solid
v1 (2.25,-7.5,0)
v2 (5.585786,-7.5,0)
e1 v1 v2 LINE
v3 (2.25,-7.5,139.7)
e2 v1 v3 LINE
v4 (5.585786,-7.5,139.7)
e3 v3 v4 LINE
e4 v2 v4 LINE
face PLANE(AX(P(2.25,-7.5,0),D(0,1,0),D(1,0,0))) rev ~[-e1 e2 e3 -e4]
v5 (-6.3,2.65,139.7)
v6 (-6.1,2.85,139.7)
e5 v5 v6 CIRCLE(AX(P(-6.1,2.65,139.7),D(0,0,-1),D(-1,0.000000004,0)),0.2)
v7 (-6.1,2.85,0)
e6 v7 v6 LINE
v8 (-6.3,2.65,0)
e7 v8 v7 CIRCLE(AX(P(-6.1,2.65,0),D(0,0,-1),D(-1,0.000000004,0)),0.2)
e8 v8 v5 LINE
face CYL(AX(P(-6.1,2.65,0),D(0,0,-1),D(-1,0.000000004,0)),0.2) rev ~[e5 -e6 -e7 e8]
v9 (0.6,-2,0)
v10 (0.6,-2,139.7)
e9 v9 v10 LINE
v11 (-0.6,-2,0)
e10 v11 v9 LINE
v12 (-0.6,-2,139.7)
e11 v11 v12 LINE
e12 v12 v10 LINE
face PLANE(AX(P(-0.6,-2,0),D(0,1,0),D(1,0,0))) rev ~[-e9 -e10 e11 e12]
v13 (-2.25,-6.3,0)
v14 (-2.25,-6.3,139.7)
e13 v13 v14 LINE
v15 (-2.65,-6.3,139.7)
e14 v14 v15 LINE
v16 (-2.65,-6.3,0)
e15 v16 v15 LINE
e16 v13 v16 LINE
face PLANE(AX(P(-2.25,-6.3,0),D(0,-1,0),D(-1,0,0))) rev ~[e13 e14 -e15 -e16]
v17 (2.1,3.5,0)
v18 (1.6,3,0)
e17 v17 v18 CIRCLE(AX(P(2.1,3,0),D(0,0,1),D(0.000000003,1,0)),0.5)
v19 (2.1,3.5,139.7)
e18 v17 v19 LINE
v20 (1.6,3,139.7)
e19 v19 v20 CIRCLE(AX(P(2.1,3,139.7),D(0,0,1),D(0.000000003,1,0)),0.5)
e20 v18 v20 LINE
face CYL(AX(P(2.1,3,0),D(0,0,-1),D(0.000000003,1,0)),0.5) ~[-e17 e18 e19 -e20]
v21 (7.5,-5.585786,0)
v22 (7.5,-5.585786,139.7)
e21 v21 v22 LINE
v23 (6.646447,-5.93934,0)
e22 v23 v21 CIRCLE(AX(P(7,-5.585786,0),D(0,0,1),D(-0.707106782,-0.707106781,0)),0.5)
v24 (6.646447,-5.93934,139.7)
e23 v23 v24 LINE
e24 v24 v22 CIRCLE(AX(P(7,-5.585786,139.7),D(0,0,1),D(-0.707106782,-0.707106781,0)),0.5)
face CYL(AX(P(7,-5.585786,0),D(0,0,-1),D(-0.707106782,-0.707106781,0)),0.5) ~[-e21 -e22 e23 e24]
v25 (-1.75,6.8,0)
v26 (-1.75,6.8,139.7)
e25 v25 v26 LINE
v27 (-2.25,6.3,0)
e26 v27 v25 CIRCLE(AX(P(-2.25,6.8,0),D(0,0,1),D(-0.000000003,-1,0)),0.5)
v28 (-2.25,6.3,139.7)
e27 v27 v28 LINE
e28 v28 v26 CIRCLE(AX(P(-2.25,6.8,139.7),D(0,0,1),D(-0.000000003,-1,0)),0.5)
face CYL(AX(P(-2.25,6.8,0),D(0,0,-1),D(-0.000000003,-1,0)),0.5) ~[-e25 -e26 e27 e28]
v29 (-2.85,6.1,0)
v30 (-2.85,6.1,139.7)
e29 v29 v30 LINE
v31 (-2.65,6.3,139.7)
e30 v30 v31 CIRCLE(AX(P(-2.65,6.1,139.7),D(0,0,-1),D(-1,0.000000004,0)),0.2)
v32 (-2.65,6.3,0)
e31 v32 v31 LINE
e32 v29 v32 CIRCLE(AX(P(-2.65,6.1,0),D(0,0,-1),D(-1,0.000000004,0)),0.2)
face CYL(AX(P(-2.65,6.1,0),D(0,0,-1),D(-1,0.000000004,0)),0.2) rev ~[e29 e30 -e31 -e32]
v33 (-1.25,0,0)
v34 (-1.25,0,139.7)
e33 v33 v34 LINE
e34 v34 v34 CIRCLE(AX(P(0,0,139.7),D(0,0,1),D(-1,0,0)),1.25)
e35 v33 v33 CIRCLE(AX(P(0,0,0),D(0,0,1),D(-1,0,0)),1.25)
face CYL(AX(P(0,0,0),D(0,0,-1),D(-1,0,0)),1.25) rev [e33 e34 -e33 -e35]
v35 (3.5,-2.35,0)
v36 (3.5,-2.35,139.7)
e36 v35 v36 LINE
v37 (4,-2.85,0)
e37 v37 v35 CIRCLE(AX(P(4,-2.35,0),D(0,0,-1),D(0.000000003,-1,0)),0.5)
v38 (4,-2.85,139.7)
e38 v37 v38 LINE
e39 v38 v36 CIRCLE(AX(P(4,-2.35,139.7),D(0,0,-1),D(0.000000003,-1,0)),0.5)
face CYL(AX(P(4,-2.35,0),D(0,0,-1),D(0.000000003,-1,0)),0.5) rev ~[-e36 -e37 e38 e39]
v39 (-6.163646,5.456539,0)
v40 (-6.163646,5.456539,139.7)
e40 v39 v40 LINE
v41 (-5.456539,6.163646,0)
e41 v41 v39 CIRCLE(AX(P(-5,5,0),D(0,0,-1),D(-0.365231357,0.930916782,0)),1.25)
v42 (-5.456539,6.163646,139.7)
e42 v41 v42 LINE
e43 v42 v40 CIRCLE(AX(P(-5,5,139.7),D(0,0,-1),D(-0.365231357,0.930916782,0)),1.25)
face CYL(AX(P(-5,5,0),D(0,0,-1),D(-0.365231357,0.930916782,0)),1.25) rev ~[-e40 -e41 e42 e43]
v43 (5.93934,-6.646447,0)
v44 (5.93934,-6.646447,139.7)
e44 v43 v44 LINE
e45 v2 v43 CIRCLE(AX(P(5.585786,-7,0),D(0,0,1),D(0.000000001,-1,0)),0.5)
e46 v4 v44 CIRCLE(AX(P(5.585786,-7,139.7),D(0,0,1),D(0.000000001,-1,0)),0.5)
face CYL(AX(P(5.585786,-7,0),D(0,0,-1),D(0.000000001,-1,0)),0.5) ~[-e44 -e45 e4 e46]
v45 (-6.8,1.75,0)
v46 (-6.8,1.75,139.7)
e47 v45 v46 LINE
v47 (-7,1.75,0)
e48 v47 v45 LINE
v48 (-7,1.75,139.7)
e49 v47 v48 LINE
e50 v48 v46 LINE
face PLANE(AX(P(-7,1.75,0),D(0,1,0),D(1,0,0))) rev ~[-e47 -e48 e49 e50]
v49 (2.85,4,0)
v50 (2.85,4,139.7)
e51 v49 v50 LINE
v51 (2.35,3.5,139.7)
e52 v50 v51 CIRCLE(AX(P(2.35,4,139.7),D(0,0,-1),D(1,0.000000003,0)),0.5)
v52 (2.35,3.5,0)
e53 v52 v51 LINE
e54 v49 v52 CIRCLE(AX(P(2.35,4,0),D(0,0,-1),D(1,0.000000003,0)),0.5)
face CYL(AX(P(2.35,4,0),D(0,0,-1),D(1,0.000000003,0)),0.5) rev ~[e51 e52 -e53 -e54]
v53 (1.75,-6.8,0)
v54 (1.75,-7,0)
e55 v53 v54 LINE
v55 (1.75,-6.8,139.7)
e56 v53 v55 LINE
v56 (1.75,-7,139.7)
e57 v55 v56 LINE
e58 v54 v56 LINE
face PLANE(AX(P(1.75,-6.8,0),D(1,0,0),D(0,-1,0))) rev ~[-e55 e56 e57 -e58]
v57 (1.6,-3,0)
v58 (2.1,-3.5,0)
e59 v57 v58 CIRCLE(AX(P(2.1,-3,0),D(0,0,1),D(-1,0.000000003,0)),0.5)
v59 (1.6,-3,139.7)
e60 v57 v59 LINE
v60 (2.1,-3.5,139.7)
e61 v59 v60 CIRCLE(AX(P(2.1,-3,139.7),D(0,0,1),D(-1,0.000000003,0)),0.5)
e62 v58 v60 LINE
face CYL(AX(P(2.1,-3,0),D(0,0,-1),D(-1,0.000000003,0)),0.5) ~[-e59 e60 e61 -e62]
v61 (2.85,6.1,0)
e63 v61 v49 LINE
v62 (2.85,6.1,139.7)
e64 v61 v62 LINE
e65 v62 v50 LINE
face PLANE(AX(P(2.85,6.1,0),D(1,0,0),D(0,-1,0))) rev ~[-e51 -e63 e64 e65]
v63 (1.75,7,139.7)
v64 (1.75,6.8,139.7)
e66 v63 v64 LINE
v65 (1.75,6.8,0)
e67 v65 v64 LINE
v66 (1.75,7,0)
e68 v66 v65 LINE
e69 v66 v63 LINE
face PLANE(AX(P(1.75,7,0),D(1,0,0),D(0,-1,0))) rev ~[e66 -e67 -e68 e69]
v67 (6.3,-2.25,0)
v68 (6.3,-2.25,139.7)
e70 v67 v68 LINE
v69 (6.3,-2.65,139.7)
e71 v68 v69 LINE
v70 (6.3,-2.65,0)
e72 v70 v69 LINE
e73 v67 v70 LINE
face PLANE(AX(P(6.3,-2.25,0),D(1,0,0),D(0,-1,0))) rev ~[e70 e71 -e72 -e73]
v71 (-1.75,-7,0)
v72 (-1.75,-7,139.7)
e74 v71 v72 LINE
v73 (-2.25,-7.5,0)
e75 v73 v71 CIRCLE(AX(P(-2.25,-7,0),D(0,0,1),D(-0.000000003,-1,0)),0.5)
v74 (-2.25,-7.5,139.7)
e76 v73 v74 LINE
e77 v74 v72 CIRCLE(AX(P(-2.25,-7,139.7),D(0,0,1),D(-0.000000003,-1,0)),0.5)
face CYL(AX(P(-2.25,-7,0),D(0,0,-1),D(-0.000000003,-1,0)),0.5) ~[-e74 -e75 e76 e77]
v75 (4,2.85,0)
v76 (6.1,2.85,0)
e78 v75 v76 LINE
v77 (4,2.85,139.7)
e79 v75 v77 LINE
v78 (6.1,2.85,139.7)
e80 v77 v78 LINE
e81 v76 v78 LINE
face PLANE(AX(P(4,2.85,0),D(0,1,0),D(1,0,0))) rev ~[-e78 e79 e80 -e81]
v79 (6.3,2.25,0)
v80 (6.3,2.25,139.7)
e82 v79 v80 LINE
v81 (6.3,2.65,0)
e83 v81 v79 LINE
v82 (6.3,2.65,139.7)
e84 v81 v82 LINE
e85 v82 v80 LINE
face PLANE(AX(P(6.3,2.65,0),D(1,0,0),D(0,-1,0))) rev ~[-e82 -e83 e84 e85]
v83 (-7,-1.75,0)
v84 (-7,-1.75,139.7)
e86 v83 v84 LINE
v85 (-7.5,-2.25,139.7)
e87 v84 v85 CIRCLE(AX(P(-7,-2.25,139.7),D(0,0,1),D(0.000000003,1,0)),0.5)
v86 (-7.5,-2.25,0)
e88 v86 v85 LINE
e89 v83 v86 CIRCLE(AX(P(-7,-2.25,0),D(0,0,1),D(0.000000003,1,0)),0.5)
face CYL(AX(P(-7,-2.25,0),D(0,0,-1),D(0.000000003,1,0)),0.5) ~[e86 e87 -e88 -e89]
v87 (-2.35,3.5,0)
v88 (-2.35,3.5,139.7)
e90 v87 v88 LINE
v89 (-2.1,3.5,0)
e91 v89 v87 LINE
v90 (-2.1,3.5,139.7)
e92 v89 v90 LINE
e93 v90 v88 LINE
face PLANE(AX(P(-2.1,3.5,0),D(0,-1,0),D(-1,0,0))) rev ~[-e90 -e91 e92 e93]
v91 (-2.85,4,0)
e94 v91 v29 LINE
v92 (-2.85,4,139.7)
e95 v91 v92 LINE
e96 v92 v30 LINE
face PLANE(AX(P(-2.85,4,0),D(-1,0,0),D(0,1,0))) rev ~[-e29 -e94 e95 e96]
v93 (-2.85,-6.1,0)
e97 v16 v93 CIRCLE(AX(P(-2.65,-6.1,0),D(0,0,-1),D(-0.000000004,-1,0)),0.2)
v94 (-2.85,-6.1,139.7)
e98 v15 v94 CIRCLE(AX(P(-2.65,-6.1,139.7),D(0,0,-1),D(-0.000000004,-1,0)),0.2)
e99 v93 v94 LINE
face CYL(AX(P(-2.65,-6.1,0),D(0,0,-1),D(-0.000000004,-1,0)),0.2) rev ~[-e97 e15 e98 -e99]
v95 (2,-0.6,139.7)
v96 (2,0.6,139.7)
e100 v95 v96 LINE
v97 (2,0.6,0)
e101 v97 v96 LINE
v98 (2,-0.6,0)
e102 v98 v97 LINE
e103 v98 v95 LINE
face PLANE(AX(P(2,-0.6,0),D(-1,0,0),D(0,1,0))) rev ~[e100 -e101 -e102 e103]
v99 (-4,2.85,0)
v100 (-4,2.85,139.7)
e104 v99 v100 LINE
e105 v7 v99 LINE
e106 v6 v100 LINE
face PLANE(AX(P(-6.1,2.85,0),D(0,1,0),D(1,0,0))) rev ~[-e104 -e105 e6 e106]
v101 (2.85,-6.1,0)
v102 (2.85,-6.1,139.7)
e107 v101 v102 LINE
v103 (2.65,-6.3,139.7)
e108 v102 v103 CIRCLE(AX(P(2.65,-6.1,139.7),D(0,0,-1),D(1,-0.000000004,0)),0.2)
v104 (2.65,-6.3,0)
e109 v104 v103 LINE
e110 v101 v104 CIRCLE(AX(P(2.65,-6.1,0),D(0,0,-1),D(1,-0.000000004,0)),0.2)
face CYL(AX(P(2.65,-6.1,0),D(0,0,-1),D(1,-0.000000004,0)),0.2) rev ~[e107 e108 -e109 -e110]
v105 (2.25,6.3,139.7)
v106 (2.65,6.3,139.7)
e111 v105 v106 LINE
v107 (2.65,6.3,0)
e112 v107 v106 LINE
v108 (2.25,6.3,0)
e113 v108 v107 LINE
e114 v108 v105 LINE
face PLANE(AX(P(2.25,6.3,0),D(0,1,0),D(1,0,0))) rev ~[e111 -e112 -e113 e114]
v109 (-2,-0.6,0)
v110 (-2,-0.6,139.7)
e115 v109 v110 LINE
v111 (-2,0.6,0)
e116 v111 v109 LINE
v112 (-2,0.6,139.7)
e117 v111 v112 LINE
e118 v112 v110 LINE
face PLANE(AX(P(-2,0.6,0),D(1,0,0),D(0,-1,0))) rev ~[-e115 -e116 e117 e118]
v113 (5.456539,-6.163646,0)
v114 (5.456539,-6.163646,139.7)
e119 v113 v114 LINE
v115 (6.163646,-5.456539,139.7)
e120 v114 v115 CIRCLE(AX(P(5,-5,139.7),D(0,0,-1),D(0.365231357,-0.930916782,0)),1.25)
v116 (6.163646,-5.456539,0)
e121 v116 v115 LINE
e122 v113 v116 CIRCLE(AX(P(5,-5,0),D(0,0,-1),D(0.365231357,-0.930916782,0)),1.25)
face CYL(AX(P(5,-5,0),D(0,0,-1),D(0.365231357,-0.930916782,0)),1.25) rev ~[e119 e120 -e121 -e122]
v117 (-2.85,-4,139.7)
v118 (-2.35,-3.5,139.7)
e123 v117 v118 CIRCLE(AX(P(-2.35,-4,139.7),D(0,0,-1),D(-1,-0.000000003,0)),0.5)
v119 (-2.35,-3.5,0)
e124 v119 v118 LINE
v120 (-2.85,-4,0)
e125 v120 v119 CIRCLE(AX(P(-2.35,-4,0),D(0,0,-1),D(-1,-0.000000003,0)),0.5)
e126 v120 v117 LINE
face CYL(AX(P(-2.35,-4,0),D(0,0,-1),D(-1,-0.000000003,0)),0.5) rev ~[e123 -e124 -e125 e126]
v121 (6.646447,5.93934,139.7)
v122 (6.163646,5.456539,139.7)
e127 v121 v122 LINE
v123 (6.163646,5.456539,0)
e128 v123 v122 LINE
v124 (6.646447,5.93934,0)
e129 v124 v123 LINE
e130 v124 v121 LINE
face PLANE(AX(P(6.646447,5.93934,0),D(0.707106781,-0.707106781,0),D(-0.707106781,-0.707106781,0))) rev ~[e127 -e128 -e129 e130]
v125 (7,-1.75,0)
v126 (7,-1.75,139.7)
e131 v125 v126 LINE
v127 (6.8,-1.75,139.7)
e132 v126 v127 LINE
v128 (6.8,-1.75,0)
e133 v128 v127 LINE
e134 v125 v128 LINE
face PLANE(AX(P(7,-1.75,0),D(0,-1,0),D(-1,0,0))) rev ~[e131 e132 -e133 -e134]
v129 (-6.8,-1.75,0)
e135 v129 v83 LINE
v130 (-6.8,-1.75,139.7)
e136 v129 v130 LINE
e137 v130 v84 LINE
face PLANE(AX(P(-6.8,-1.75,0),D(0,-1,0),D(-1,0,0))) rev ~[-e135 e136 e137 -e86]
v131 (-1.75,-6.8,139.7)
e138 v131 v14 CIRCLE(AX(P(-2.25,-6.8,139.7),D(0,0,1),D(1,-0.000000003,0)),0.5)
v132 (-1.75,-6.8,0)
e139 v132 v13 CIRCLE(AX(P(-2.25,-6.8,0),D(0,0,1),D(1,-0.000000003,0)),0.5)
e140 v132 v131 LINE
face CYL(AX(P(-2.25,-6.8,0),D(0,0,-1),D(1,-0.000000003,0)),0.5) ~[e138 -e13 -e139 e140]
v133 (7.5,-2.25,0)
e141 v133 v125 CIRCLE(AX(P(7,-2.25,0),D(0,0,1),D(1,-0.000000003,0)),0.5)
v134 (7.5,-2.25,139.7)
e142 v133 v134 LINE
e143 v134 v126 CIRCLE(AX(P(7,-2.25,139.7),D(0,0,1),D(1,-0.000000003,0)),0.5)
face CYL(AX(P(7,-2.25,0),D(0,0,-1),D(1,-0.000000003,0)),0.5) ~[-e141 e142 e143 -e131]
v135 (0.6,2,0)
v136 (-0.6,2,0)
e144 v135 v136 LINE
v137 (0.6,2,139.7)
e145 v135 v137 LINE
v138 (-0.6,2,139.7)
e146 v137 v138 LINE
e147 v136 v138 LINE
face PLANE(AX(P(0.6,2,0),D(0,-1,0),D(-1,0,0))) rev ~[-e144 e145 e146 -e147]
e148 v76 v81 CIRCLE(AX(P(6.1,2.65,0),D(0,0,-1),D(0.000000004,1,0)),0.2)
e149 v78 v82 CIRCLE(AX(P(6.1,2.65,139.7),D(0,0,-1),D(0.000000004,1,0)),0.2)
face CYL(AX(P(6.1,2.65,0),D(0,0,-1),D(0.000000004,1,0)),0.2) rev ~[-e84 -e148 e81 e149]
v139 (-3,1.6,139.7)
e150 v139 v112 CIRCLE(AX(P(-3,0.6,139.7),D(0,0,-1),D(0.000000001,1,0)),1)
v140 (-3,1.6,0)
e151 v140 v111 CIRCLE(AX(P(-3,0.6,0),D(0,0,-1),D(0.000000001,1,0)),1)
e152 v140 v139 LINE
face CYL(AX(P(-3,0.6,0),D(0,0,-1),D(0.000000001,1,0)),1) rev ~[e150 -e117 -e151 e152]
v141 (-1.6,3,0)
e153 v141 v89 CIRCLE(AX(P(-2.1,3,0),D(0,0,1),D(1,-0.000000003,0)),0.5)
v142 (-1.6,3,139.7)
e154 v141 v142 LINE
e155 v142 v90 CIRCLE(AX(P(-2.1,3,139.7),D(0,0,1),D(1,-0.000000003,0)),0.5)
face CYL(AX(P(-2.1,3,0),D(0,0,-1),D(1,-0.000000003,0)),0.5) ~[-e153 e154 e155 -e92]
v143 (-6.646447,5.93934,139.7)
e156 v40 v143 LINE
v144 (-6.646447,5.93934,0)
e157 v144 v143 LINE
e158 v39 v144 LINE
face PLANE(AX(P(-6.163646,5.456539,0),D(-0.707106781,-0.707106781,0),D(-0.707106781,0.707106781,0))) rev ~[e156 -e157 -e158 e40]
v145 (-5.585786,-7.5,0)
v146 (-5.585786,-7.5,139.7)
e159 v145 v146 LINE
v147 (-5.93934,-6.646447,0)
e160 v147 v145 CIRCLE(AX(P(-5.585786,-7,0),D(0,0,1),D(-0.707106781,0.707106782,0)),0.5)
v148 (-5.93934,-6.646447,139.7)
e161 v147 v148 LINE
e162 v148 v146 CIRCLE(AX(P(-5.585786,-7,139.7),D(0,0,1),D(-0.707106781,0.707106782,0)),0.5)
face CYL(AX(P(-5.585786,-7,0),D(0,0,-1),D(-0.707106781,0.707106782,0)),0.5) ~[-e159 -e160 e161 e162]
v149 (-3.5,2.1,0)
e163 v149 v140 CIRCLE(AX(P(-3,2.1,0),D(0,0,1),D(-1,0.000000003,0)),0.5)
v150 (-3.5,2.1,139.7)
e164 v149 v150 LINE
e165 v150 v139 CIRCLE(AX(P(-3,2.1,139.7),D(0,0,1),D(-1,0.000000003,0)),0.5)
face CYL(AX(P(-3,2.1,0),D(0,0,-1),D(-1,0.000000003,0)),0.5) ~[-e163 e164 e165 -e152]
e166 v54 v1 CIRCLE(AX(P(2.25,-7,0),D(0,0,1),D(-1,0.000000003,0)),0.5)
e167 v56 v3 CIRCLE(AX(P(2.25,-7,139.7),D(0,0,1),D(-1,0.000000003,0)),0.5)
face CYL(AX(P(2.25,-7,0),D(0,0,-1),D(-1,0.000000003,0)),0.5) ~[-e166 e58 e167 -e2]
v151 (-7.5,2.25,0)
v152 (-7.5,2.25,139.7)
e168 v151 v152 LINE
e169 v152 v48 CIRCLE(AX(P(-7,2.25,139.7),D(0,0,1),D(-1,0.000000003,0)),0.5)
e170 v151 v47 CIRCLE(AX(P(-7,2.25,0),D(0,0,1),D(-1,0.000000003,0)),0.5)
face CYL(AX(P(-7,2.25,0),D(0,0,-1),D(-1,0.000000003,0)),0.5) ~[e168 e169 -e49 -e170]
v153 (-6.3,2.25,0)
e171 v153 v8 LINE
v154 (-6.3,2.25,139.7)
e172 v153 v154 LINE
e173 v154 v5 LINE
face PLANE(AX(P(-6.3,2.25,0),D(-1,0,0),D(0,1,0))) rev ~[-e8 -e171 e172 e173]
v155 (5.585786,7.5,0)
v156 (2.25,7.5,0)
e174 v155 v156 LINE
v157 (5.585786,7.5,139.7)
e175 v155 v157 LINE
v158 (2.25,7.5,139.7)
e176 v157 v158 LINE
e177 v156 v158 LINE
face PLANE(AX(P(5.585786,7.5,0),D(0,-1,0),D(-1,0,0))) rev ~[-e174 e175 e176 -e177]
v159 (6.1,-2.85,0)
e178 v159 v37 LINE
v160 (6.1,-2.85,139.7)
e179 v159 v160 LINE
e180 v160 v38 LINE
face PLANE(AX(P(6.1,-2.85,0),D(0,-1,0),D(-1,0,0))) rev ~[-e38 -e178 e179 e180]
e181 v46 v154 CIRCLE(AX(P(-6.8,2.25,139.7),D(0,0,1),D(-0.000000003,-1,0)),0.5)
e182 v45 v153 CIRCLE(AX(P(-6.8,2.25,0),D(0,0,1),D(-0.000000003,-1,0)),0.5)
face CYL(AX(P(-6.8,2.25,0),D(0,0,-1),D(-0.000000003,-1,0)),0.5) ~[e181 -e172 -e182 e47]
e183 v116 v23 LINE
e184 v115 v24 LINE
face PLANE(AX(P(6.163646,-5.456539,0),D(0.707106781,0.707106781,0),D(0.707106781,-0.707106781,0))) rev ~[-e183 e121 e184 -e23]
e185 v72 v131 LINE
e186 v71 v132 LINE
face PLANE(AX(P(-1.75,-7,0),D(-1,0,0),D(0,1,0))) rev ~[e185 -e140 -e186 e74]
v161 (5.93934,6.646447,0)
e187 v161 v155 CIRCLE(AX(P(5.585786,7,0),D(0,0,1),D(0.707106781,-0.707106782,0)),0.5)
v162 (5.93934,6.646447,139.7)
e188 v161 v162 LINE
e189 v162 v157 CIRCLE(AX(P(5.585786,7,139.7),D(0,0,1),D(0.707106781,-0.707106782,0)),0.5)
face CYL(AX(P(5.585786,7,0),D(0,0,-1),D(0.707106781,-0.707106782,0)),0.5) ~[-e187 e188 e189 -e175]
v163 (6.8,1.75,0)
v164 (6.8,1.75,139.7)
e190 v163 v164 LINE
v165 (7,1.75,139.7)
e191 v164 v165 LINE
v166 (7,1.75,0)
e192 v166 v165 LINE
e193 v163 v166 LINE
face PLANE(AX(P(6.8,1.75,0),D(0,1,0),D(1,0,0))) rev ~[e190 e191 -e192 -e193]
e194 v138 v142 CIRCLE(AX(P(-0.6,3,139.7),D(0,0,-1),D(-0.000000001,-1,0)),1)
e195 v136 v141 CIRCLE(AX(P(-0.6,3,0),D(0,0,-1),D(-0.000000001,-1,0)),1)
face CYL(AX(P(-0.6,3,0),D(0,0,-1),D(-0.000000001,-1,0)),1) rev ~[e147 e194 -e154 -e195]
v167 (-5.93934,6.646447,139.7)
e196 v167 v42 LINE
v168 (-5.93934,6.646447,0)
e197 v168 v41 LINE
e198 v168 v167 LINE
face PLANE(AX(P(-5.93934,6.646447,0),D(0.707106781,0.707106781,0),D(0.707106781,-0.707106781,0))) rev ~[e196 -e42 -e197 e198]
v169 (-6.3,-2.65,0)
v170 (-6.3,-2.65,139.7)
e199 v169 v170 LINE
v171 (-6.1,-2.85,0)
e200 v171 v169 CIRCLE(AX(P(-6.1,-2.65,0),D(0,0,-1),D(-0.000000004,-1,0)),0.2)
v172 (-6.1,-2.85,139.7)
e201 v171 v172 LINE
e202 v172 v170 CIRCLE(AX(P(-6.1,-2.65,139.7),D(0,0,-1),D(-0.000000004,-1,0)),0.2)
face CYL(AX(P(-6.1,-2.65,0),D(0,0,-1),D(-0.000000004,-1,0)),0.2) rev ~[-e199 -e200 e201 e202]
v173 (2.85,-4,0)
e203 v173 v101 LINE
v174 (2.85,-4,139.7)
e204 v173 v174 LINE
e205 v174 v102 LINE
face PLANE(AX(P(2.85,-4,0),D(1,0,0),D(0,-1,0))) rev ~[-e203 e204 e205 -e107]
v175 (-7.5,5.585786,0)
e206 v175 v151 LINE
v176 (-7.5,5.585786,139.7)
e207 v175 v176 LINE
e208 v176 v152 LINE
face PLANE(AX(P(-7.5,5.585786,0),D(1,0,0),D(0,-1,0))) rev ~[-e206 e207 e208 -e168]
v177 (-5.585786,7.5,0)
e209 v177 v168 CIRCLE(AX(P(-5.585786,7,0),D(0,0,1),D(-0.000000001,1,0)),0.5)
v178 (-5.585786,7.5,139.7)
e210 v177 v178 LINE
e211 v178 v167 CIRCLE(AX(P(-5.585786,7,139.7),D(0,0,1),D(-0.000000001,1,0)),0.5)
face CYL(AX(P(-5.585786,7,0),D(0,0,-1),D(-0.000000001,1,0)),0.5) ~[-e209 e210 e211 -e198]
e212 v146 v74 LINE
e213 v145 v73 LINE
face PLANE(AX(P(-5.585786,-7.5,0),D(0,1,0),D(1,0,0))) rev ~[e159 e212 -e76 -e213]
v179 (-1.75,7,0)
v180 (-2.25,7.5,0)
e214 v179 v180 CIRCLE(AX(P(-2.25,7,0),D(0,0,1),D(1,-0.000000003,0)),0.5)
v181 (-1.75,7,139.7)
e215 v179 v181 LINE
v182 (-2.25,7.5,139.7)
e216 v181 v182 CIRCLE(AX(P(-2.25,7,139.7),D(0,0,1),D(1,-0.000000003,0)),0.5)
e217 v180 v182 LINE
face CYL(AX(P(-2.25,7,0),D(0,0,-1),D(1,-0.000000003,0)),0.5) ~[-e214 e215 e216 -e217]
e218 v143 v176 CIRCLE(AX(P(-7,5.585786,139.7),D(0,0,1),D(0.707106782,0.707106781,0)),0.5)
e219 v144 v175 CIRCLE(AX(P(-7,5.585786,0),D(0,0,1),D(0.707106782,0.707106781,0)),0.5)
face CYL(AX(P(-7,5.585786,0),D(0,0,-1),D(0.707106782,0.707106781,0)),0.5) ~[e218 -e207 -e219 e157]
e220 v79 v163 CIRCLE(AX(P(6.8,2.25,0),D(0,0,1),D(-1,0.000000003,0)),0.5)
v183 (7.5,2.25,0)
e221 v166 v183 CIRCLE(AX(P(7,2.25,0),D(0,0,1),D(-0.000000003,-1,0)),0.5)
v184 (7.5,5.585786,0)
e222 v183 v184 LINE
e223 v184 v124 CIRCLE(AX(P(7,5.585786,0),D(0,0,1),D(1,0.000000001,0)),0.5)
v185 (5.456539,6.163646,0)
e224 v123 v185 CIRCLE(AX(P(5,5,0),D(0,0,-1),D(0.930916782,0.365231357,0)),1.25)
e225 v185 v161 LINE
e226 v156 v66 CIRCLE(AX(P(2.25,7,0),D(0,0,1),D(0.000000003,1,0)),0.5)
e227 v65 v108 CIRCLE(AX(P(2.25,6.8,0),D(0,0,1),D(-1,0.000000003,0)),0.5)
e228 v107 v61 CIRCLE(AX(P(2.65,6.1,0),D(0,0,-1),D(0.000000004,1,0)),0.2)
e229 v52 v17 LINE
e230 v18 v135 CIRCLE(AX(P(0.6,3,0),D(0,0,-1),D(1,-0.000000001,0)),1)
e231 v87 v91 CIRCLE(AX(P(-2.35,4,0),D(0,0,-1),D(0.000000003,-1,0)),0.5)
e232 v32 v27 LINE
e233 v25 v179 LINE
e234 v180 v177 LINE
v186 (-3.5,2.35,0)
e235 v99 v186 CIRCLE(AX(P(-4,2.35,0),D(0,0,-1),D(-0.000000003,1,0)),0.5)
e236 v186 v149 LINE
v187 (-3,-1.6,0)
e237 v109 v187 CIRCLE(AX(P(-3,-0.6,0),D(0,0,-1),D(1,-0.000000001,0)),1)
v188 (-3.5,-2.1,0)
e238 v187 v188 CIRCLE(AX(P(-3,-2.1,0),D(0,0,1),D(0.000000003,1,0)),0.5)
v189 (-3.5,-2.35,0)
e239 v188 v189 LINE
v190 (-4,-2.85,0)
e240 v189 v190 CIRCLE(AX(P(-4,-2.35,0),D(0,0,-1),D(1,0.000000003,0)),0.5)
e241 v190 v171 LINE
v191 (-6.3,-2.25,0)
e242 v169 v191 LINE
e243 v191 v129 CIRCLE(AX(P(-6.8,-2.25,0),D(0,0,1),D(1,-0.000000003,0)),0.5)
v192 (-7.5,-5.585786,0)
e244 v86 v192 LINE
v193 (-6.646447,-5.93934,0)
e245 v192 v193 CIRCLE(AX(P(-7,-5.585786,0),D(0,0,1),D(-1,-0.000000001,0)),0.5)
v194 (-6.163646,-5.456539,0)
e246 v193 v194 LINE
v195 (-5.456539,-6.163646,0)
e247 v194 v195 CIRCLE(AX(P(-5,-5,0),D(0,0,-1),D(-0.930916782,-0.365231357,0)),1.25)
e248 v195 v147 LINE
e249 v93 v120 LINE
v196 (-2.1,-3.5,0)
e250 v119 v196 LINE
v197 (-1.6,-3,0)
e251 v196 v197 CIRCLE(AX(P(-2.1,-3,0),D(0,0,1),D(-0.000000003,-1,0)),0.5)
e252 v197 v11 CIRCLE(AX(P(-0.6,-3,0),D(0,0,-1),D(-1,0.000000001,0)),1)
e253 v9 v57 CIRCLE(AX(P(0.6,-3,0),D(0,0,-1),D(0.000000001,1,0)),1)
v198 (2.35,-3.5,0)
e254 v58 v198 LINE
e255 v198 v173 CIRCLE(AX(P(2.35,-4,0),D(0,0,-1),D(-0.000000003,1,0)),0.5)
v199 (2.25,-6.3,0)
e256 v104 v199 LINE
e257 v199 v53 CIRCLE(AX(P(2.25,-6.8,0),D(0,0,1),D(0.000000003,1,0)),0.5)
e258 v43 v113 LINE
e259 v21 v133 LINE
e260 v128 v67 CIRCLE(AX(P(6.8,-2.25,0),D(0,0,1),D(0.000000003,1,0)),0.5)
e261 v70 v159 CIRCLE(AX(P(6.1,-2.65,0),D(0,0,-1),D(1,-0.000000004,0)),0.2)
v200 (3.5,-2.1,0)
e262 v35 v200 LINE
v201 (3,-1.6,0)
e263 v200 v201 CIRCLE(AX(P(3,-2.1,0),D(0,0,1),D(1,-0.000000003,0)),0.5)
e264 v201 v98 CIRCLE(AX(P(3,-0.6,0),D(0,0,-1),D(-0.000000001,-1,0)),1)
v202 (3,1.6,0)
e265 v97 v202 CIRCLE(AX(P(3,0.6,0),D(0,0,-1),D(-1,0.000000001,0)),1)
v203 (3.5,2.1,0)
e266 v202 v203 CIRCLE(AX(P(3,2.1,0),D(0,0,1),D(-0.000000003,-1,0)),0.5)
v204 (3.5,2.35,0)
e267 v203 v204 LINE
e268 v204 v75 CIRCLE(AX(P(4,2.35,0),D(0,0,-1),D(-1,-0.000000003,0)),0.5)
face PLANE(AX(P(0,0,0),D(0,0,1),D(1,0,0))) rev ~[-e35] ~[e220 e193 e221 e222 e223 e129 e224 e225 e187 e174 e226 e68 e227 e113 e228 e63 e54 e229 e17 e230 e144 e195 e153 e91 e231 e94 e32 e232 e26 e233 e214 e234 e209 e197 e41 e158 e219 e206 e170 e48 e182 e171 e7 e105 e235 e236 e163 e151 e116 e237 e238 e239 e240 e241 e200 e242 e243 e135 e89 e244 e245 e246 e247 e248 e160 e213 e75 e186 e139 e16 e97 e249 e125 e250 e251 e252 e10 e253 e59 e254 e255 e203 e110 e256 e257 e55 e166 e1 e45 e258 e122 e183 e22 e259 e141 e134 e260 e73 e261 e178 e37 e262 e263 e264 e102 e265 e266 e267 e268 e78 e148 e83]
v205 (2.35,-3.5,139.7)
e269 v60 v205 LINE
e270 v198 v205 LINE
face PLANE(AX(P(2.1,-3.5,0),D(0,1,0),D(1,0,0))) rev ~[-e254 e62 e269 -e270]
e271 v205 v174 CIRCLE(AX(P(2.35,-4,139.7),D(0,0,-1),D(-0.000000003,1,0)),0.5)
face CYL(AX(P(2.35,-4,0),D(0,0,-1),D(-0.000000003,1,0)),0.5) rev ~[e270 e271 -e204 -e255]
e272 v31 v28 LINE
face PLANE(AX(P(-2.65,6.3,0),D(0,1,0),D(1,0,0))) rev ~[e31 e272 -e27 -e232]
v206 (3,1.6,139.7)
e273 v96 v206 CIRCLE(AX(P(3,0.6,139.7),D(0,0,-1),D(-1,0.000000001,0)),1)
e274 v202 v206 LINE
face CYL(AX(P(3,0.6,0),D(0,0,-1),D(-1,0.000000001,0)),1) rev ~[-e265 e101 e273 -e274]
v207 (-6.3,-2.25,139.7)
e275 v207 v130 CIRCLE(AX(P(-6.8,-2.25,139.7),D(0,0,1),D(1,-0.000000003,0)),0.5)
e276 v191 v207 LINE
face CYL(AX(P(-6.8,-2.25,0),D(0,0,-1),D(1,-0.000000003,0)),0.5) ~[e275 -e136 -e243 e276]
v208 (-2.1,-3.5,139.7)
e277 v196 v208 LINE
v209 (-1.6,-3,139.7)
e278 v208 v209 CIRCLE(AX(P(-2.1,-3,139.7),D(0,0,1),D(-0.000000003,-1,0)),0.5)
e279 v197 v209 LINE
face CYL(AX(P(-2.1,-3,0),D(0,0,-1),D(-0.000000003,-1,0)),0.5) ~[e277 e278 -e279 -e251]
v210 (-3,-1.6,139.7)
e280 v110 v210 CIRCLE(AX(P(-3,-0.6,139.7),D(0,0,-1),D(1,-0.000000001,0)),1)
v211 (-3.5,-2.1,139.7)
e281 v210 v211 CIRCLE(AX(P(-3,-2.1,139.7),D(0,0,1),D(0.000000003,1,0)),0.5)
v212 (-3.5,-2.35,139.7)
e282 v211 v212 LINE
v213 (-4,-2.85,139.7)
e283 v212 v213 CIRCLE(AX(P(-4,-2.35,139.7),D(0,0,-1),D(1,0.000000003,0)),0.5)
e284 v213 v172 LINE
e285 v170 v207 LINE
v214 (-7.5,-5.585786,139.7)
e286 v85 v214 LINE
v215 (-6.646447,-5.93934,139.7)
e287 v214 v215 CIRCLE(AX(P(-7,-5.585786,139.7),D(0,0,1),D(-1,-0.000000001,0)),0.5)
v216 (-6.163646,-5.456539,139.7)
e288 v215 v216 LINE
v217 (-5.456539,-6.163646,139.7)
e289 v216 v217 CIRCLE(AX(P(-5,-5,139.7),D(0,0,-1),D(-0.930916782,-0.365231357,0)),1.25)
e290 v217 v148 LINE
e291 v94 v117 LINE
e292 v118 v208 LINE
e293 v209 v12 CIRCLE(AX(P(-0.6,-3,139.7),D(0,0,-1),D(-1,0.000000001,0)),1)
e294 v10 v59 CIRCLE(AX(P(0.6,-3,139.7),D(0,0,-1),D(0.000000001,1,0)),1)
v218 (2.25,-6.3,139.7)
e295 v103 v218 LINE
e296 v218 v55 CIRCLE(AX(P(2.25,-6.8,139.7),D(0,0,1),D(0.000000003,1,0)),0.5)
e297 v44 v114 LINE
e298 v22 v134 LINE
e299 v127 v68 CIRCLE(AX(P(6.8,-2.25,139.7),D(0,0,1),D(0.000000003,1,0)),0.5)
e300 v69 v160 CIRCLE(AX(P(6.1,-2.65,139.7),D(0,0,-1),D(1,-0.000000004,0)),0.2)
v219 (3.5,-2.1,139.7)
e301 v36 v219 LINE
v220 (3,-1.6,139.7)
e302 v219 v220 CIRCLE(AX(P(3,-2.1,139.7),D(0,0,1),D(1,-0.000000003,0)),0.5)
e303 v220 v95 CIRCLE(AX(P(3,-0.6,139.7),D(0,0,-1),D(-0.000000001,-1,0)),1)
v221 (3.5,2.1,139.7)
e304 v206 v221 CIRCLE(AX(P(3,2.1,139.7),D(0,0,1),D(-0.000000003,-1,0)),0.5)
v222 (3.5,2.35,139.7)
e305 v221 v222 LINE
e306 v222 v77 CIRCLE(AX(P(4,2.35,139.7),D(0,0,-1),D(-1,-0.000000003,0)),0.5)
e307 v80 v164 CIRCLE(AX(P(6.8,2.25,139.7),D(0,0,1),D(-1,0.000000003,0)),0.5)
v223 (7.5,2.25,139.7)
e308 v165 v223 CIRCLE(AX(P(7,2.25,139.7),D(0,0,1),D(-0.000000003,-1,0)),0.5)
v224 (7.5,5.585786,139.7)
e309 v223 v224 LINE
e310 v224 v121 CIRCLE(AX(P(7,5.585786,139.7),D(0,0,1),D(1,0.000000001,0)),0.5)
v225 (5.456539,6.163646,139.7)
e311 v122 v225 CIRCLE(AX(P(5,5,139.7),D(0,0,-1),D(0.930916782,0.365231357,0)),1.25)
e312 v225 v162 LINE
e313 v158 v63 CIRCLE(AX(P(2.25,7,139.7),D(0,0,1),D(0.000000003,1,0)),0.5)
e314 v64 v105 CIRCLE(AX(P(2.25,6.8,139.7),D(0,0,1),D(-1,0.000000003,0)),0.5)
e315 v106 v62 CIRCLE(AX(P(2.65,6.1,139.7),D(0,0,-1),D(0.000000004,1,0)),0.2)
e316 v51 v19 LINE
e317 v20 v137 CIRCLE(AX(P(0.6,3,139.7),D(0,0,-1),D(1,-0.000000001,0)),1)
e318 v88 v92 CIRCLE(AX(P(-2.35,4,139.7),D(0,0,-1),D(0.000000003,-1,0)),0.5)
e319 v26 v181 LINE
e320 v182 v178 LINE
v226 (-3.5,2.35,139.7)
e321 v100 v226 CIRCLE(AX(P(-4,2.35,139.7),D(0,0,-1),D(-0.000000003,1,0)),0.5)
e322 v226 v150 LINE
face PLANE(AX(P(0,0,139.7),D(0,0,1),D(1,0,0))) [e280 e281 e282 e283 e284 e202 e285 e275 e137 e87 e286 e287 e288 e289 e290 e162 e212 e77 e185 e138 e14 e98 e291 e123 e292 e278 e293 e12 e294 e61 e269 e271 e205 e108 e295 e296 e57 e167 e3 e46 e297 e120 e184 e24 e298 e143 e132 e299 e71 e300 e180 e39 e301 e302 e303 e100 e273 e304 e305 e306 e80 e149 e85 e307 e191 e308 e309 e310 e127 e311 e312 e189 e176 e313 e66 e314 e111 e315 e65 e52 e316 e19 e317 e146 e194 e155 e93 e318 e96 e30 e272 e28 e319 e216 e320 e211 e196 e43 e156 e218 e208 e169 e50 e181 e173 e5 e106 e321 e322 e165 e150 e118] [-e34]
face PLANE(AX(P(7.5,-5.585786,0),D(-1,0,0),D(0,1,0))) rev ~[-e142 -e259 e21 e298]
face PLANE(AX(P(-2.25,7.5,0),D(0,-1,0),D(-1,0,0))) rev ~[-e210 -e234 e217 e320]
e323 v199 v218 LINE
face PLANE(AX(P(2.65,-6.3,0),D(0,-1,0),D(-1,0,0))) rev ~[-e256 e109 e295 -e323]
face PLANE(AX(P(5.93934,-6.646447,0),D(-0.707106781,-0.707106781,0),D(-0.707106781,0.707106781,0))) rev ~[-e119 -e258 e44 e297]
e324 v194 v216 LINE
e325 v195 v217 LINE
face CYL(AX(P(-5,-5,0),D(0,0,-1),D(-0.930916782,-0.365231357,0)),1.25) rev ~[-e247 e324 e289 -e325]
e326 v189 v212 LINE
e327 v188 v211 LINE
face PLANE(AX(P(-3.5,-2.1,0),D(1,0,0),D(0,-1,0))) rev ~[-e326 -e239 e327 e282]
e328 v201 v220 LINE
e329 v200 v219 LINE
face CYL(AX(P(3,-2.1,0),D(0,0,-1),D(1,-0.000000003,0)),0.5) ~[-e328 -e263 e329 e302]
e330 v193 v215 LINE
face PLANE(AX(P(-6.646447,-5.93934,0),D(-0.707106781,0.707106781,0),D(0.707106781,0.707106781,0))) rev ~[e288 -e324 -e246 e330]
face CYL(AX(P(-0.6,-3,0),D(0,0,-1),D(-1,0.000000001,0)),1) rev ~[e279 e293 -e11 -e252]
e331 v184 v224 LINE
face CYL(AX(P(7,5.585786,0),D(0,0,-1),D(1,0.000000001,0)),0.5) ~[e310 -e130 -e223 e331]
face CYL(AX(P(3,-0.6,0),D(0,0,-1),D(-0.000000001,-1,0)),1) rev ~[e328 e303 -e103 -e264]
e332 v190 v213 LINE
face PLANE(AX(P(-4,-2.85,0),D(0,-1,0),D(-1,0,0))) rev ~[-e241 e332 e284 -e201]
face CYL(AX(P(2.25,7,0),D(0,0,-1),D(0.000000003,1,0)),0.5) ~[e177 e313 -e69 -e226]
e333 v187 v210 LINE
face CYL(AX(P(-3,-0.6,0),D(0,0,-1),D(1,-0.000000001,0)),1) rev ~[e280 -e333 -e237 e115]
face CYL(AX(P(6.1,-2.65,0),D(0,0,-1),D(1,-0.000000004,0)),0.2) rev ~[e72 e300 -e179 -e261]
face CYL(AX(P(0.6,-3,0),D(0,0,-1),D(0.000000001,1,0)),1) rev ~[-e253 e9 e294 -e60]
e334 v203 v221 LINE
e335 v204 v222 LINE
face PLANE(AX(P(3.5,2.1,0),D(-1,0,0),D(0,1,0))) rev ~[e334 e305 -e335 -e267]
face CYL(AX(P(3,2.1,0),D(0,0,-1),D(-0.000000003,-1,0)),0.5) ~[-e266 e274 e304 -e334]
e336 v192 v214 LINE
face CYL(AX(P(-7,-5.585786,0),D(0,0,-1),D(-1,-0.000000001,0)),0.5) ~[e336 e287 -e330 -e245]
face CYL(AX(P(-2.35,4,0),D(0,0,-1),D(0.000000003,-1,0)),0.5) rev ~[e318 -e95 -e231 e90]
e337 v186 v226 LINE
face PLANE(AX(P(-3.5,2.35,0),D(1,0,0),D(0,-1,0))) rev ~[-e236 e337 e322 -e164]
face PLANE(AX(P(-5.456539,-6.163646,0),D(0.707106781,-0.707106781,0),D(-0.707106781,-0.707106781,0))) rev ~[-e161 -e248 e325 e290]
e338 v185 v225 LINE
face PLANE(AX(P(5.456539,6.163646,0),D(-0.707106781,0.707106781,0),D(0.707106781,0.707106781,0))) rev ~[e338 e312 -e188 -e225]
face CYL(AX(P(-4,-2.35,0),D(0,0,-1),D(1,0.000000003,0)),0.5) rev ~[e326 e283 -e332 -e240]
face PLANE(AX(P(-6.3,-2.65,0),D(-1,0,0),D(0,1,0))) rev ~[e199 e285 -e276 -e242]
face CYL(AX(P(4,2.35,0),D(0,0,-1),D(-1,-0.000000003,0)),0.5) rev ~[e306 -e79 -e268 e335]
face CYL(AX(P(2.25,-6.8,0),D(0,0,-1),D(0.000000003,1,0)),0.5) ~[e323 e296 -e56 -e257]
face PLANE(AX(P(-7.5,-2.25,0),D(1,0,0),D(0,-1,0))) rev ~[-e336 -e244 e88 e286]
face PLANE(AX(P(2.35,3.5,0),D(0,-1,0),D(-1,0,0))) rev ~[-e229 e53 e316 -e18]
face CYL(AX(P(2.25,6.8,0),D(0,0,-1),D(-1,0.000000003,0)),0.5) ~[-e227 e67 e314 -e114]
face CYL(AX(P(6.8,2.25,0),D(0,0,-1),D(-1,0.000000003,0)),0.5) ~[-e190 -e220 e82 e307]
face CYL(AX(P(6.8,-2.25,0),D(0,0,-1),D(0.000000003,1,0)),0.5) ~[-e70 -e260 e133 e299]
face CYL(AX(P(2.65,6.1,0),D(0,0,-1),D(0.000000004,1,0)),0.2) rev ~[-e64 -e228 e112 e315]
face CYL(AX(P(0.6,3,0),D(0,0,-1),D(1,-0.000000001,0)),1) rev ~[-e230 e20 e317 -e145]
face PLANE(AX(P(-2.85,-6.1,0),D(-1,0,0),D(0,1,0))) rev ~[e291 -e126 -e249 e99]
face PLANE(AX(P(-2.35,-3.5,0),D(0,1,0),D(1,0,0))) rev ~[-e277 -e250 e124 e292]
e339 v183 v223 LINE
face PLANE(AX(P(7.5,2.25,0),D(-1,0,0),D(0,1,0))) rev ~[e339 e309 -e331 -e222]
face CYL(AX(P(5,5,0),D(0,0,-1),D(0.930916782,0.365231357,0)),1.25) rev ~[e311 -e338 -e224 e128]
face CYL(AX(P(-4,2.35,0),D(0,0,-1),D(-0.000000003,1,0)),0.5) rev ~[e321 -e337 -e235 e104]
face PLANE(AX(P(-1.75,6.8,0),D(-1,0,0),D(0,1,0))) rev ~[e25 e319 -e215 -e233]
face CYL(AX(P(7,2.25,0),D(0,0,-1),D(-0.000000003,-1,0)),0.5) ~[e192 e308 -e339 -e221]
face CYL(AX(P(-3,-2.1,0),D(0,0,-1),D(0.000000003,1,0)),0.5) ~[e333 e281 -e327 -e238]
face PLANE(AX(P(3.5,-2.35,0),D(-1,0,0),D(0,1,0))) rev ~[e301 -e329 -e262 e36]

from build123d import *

# Parameters (mm, degrees)
SKETCH1_R           = 1.25
BOSS_EXTRUDE1_DEPTH = 139.7


with BuildPart() as part:
    # Sketch1 → Boss-Extrude1 (new body)
    with BuildSketch(Plane.XY):
        with BuildLine():
            Line((6.646446609, 5.939339828), (6.163645978, 5.456539197))
            ThreePointArc((6.163645978, 5.456539197), (4.116116524, 4.116116524), (5.456539197, 6.163645978))
            Line((5.456539197, 6.163645978), (5.939339828, 6.646446609))
            ThreePointArc((5.939339828, 6.646446609), (6.047726204, 7.191341716), (5.585786438, 7.5))
            Line((5.585786438, 7.5), (2.25, 7.5))
            ThreePointArc((2.25, 7.5), (1.896446609, 7.353553391), (1.75, 7))
            Line((1.75, 7), (1.75, 6.8))
            ThreePointArc((1.75, 6.8), (1.896446609, 6.446446609), (2.25, 6.3))
            Line((2.25, 6.3), (2.65, 6.3))
            ThreePointArc((2.65, 6.3), (2.791421356, 6.241421356), (2.85, 6.1))
            Line((2.85, 6.1), (2.85, 4))
            ThreePointArc((2.85, 4), (2.703553391, 3.646446609), (2.35, 3.5))
            Line((2.35, 3.5), (2.1, 3.5))
            ThreePointArc((2.1, 3.5), (1.746446609, 3.353553391), (1.6, 3))
            ThreePointArc((1.6, 3), (1.307106781, 2.292893219), (0.6, 2))
            Line((0.6, 2), (-0.6, 2))
            ThreePointArc((-0.6, 2), (-1.307106781, 2.292893219), (-1.6, 3))
            ThreePointArc((-1.6, 3), (-1.746446609, 3.353553391), (-2.1, 3.5))
            Line((-2.1, 3.5), (-2.35, 3.5))
            ThreePointArc((-2.35, 3.5), (-2.703553391, 3.646446609), (-2.85, 4))
            Line((-2.85, 4), (-2.85, 6.1))
            ThreePointArc((-2.85, 6.1), (-2.791421356, 6.241421356), (-2.65, 6.3))
            Line((-2.65, 6.3), (-2.25, 6.3))
            ThreePointArc((-2.25, 6.3), (-1.896446609, 6.446446609), (-1.75, 6.8))
            Line((-1.75, 6.8), (-1.75, 7))
            ThreePointArc((-1.75, 7), (-1.896446609, 7.353553391), (-2.25, 7.5))
            Line((-2.25, 7.5), (-5.585786438, 7.5))
            ThreePointArc((-5.585786438, 7.5), (-6.047726204, 7.191341716), (-5.939339828, 6.646446609))
            Line((-5.939339828, 6.646446609), (-5.456539197, 6.163645978))
            ThreePointArc((-5.456539197, 6.163645978), (-4.116116524, 4.116116524), (-6.163645978, 5.456539197))
            Line((-6.163645978, 5.456539197), (-6.646446609, 5.939339828))
            ThreePointArc((-6.646446609, 5.939339828), (-7.191341716, 6.047726204), (-7.5, 5.585786438))
            Line((-7.5, 5.585786438), (-7.5, 2.25))
            ThreePointArc((-7.5, 2.25), (-7.353553391, 1.896446609), (-7, 1.75))
            Line((-7, 1.75), (-6.8, 1.75))
            ThreePointArc((-6.8, 1.75), (-6.446446609, 1.896446609), (-6.3, 2.25))
            Line((-6.3, 2.25), (-6.3, 2.65))
            ThreePointArc((-6.3, 2.65), (-6.241421356, 2.791421356), (-6.1, 2.85))
            Line((-6.1, 2.85), (-4, 2.85))
            ThreePointArc((-4, 2.85), (-3.646446609, 2.703553391), (-3.5, 2.35))
            Line((-3.5, 2.35), (-3.5, 2.1))
            ThreePointArc((-3.5, 2.1), (-3.353553391, 1.746446609), (-3, 1.6))
            ThreePointArc((-3, 1.6), (-2.292893219, 1.307106781), (-2, 0.6))
            Line((-2, 0.6), (-2, -0.6))
            ThreePointArc((-2, -0.6), (-2.292893219, -1.307106781), (-3, -1.6))
            ThreePointArc((-3, -1.6), (-3.353553391, -1.746446609), (-3.5, -2.1))
            Line((-3.5, -2.1), (-3.5, -2.35))
            ThreePointArc((-3.5, -2.35), (-3.646446609, -2.703553391), (-4, -2.85))
            Line((-4, -2.85), (-6.1, -2.85))
            ThreePointArc((-6.1, -2.85), (-6.241421356, -2.791421356), (-6.3, -2.65))
            Line((-6.3, -2.65), (-6.3, -2.25))
            ThreePointArc((-6.3, -2.25), (-6.446446609, -1.896446609), (-6.8, -1.75))
            Line((-6.8, -1.75), (-7, -1.75))
            ThreePointArc((-7, -1.75), (-7.353553391, -1.896446609), (-7.5, -2.25))
            Line((-7.5, -2.25), (-7.5, -5.585786438))
            ThreePointArc((-7.5, -5.585786438), (-7.191341716, -6.047726204), (-6.646446609, -5.939339828))
            Line((-6.646446609, -5.939339828), (-6.163645978, -5.456539197))
            ThreePointArc((-6.163645978, -5.456539197), (-4.116116524, -4.116116524), (-5.456539197, -6.163645978))
            Line((-5.456539197, -6.163645978), (-5.939339828, -6.646446609))
            ThreePointArc((-5.939339828, -6.646446609), (-6.047726204, -7.191341716), (-5.585786438, -7.5))
            Line((-5.585786438, -7.5), (-2.25, -7.5))
            ThreePointArc((-2.25, -7.5), (-1.896446609, -7.353553391), (-1.75, -7))
            Line((-1.75, -7), (-1.75, -6.8))
            ThreePointArc((-1.75, -6.8), (-1.896446609, -6.446446609), (-2.25, -6.3))
            Line((-2.25, -6.3), (-2.65, -6.3))
            ThreePointArc((-2.65, -6.3), (-2.791421356, -6.241421356), (-2.85, -6.1))
            Line((-2.85, -6.1), (-2.85, -4))
            ThreePointArc((-2.85, -4), (-2.703553391, -3.646446609), (-2.35, -3.5))
            Line((-2.35, -3.5), (-2.1, -3.5))
            ThreePointArc((-2.1, -3.5), (-1.746446609, -3.353553391), (-1.6, -3))
            ThreePointArc((-1.6, -3), (-1.307106781, -2.292893219), (-0.6, -2))
            Line((-0.6, -2), (0.6, -2))
            ThreePointArc((0.6, -2), (1.307106781, -2.292893219), (1.6, -3))
            ThreePointArc((1.6, -3), (1.746446609, -3.353553391), (2.1, -3.5))
            Line((2.1, -3.5), (2.35, -3.5))
            ThreePointArc((2.35, -3.5), (2.703553391, -3.646446609), (2.85, -4))
            Line((2.85, -4), (2.85, -6.1))
            ThreePointArc((2.85, -6.1), (2.791421356, -6.241421356), (2.65, -6.3))
            Line((2.65, -6.3), (2.25, -6.3))
            ThreePointArc((2.25, -6.3), (1.896446609, -6.446446609), (1.75, -6.8))
            Line((1.75, -6.8), (1.75, -7))
            ThreePointArc((1.75, -7), (1.896446609, -7.353553391), (2.25, -7.5))
            Line((2.25, -7.5), (5.585786438, -7.5))
            ThreePointArc((5.585786438, -7.5), (6.047726204, -7.191341716), (5.939339828, -6.646446609))
            Line((5.939339828, -6.646446609), (5.456539197, -6.163645978))
            ThreePointArc((5.456539197, -6.163645978), (4.116116524, -4.116116524), (6.163645978, -5.456539197))
            Line((6.163645978, -5.456539197), (6.646446609, -5.939339828))
            ThreePointArc((6.646446609, -5.939339828), (7.191341716, -6.047726204), (7.5, -5.585786438))
            Line((7.5, -5.585786438), (7.5, -2.25))
            ThreePointArc((7.5, -2.25), (7.353553391, -1.896446609), (7, -1.75))
            Line((7, -1.75), (6.8, -1.75))
            ThreePointArc((6.8, -1.75), (6.446446609, -1.896446609), (6.3, -2.25))
            Line((6.3, -2.25), (6.3, -2.65))
            ThreePointArc((6.3, -2.65), (6.241421356, -2.791421356), (6.1, -2.85))
            Line((6.1, -2.85), (4, -2.85))
            ThreePointArc((4, -2.85), (3.646446609, -2.703553391), (3.5, -2.35))
            Line((3.5, -2.35), (3.5, -2.1))
            ThreePointArc((3.5, -2.1), (3.353553391, -1.746446609), (3, -1.6))
            ThreePointArc((3, -1.6), (2.292893219, -1.307106781), (2, -0.6))
            Line((2, -0.6), (2, 0.6))
            ThreePointArc((2, 0.6), (2.292893219, 1.307106781), (3, 1.6))
            ThreePointArc((3, 1.6), (3.353553391, 1.746446609), (3.5, 2.1))
            Line((3.5, 2.1), (3.5, 2.35))
            ThreePointArc((3.5, 2.35), (3.646446609, 2.703553391), (4, 2.85))
            Line((4, 2.85), (6.1, 2.85))
            ThreePointArc((6.1, 2.85), (6.241421356, 2.791421356), (6.3, 2.65))
            Line((6.3, 2.65), (6.3, 2.25))
            ThreePointArc((6.3, 2.25), (6.446446609, 1.896446609), (6.8, 1.75))
            Line((6.8, 1.75), (7, 1.75))
            ThreePointArc((7, 1.75), (7.353553391, 1.896446609), (7.5, 2.25))
            Line((7.5, 2.25), (7.5, 5.585786438))
            ThreePointArc((7.5, 5.585786438), (7.191341716, 6.047726204), (6.646446609, 5.939339828))
        make_face()
        with Locations(Location((0, 0, 0), (0, 0, 180))):
            Circle(SKETCH1_R, mode=Mode.SUBTRACT)
    extrude(amount=BOSS_EXTRUDE1_DEPTH)


solid = part.part
